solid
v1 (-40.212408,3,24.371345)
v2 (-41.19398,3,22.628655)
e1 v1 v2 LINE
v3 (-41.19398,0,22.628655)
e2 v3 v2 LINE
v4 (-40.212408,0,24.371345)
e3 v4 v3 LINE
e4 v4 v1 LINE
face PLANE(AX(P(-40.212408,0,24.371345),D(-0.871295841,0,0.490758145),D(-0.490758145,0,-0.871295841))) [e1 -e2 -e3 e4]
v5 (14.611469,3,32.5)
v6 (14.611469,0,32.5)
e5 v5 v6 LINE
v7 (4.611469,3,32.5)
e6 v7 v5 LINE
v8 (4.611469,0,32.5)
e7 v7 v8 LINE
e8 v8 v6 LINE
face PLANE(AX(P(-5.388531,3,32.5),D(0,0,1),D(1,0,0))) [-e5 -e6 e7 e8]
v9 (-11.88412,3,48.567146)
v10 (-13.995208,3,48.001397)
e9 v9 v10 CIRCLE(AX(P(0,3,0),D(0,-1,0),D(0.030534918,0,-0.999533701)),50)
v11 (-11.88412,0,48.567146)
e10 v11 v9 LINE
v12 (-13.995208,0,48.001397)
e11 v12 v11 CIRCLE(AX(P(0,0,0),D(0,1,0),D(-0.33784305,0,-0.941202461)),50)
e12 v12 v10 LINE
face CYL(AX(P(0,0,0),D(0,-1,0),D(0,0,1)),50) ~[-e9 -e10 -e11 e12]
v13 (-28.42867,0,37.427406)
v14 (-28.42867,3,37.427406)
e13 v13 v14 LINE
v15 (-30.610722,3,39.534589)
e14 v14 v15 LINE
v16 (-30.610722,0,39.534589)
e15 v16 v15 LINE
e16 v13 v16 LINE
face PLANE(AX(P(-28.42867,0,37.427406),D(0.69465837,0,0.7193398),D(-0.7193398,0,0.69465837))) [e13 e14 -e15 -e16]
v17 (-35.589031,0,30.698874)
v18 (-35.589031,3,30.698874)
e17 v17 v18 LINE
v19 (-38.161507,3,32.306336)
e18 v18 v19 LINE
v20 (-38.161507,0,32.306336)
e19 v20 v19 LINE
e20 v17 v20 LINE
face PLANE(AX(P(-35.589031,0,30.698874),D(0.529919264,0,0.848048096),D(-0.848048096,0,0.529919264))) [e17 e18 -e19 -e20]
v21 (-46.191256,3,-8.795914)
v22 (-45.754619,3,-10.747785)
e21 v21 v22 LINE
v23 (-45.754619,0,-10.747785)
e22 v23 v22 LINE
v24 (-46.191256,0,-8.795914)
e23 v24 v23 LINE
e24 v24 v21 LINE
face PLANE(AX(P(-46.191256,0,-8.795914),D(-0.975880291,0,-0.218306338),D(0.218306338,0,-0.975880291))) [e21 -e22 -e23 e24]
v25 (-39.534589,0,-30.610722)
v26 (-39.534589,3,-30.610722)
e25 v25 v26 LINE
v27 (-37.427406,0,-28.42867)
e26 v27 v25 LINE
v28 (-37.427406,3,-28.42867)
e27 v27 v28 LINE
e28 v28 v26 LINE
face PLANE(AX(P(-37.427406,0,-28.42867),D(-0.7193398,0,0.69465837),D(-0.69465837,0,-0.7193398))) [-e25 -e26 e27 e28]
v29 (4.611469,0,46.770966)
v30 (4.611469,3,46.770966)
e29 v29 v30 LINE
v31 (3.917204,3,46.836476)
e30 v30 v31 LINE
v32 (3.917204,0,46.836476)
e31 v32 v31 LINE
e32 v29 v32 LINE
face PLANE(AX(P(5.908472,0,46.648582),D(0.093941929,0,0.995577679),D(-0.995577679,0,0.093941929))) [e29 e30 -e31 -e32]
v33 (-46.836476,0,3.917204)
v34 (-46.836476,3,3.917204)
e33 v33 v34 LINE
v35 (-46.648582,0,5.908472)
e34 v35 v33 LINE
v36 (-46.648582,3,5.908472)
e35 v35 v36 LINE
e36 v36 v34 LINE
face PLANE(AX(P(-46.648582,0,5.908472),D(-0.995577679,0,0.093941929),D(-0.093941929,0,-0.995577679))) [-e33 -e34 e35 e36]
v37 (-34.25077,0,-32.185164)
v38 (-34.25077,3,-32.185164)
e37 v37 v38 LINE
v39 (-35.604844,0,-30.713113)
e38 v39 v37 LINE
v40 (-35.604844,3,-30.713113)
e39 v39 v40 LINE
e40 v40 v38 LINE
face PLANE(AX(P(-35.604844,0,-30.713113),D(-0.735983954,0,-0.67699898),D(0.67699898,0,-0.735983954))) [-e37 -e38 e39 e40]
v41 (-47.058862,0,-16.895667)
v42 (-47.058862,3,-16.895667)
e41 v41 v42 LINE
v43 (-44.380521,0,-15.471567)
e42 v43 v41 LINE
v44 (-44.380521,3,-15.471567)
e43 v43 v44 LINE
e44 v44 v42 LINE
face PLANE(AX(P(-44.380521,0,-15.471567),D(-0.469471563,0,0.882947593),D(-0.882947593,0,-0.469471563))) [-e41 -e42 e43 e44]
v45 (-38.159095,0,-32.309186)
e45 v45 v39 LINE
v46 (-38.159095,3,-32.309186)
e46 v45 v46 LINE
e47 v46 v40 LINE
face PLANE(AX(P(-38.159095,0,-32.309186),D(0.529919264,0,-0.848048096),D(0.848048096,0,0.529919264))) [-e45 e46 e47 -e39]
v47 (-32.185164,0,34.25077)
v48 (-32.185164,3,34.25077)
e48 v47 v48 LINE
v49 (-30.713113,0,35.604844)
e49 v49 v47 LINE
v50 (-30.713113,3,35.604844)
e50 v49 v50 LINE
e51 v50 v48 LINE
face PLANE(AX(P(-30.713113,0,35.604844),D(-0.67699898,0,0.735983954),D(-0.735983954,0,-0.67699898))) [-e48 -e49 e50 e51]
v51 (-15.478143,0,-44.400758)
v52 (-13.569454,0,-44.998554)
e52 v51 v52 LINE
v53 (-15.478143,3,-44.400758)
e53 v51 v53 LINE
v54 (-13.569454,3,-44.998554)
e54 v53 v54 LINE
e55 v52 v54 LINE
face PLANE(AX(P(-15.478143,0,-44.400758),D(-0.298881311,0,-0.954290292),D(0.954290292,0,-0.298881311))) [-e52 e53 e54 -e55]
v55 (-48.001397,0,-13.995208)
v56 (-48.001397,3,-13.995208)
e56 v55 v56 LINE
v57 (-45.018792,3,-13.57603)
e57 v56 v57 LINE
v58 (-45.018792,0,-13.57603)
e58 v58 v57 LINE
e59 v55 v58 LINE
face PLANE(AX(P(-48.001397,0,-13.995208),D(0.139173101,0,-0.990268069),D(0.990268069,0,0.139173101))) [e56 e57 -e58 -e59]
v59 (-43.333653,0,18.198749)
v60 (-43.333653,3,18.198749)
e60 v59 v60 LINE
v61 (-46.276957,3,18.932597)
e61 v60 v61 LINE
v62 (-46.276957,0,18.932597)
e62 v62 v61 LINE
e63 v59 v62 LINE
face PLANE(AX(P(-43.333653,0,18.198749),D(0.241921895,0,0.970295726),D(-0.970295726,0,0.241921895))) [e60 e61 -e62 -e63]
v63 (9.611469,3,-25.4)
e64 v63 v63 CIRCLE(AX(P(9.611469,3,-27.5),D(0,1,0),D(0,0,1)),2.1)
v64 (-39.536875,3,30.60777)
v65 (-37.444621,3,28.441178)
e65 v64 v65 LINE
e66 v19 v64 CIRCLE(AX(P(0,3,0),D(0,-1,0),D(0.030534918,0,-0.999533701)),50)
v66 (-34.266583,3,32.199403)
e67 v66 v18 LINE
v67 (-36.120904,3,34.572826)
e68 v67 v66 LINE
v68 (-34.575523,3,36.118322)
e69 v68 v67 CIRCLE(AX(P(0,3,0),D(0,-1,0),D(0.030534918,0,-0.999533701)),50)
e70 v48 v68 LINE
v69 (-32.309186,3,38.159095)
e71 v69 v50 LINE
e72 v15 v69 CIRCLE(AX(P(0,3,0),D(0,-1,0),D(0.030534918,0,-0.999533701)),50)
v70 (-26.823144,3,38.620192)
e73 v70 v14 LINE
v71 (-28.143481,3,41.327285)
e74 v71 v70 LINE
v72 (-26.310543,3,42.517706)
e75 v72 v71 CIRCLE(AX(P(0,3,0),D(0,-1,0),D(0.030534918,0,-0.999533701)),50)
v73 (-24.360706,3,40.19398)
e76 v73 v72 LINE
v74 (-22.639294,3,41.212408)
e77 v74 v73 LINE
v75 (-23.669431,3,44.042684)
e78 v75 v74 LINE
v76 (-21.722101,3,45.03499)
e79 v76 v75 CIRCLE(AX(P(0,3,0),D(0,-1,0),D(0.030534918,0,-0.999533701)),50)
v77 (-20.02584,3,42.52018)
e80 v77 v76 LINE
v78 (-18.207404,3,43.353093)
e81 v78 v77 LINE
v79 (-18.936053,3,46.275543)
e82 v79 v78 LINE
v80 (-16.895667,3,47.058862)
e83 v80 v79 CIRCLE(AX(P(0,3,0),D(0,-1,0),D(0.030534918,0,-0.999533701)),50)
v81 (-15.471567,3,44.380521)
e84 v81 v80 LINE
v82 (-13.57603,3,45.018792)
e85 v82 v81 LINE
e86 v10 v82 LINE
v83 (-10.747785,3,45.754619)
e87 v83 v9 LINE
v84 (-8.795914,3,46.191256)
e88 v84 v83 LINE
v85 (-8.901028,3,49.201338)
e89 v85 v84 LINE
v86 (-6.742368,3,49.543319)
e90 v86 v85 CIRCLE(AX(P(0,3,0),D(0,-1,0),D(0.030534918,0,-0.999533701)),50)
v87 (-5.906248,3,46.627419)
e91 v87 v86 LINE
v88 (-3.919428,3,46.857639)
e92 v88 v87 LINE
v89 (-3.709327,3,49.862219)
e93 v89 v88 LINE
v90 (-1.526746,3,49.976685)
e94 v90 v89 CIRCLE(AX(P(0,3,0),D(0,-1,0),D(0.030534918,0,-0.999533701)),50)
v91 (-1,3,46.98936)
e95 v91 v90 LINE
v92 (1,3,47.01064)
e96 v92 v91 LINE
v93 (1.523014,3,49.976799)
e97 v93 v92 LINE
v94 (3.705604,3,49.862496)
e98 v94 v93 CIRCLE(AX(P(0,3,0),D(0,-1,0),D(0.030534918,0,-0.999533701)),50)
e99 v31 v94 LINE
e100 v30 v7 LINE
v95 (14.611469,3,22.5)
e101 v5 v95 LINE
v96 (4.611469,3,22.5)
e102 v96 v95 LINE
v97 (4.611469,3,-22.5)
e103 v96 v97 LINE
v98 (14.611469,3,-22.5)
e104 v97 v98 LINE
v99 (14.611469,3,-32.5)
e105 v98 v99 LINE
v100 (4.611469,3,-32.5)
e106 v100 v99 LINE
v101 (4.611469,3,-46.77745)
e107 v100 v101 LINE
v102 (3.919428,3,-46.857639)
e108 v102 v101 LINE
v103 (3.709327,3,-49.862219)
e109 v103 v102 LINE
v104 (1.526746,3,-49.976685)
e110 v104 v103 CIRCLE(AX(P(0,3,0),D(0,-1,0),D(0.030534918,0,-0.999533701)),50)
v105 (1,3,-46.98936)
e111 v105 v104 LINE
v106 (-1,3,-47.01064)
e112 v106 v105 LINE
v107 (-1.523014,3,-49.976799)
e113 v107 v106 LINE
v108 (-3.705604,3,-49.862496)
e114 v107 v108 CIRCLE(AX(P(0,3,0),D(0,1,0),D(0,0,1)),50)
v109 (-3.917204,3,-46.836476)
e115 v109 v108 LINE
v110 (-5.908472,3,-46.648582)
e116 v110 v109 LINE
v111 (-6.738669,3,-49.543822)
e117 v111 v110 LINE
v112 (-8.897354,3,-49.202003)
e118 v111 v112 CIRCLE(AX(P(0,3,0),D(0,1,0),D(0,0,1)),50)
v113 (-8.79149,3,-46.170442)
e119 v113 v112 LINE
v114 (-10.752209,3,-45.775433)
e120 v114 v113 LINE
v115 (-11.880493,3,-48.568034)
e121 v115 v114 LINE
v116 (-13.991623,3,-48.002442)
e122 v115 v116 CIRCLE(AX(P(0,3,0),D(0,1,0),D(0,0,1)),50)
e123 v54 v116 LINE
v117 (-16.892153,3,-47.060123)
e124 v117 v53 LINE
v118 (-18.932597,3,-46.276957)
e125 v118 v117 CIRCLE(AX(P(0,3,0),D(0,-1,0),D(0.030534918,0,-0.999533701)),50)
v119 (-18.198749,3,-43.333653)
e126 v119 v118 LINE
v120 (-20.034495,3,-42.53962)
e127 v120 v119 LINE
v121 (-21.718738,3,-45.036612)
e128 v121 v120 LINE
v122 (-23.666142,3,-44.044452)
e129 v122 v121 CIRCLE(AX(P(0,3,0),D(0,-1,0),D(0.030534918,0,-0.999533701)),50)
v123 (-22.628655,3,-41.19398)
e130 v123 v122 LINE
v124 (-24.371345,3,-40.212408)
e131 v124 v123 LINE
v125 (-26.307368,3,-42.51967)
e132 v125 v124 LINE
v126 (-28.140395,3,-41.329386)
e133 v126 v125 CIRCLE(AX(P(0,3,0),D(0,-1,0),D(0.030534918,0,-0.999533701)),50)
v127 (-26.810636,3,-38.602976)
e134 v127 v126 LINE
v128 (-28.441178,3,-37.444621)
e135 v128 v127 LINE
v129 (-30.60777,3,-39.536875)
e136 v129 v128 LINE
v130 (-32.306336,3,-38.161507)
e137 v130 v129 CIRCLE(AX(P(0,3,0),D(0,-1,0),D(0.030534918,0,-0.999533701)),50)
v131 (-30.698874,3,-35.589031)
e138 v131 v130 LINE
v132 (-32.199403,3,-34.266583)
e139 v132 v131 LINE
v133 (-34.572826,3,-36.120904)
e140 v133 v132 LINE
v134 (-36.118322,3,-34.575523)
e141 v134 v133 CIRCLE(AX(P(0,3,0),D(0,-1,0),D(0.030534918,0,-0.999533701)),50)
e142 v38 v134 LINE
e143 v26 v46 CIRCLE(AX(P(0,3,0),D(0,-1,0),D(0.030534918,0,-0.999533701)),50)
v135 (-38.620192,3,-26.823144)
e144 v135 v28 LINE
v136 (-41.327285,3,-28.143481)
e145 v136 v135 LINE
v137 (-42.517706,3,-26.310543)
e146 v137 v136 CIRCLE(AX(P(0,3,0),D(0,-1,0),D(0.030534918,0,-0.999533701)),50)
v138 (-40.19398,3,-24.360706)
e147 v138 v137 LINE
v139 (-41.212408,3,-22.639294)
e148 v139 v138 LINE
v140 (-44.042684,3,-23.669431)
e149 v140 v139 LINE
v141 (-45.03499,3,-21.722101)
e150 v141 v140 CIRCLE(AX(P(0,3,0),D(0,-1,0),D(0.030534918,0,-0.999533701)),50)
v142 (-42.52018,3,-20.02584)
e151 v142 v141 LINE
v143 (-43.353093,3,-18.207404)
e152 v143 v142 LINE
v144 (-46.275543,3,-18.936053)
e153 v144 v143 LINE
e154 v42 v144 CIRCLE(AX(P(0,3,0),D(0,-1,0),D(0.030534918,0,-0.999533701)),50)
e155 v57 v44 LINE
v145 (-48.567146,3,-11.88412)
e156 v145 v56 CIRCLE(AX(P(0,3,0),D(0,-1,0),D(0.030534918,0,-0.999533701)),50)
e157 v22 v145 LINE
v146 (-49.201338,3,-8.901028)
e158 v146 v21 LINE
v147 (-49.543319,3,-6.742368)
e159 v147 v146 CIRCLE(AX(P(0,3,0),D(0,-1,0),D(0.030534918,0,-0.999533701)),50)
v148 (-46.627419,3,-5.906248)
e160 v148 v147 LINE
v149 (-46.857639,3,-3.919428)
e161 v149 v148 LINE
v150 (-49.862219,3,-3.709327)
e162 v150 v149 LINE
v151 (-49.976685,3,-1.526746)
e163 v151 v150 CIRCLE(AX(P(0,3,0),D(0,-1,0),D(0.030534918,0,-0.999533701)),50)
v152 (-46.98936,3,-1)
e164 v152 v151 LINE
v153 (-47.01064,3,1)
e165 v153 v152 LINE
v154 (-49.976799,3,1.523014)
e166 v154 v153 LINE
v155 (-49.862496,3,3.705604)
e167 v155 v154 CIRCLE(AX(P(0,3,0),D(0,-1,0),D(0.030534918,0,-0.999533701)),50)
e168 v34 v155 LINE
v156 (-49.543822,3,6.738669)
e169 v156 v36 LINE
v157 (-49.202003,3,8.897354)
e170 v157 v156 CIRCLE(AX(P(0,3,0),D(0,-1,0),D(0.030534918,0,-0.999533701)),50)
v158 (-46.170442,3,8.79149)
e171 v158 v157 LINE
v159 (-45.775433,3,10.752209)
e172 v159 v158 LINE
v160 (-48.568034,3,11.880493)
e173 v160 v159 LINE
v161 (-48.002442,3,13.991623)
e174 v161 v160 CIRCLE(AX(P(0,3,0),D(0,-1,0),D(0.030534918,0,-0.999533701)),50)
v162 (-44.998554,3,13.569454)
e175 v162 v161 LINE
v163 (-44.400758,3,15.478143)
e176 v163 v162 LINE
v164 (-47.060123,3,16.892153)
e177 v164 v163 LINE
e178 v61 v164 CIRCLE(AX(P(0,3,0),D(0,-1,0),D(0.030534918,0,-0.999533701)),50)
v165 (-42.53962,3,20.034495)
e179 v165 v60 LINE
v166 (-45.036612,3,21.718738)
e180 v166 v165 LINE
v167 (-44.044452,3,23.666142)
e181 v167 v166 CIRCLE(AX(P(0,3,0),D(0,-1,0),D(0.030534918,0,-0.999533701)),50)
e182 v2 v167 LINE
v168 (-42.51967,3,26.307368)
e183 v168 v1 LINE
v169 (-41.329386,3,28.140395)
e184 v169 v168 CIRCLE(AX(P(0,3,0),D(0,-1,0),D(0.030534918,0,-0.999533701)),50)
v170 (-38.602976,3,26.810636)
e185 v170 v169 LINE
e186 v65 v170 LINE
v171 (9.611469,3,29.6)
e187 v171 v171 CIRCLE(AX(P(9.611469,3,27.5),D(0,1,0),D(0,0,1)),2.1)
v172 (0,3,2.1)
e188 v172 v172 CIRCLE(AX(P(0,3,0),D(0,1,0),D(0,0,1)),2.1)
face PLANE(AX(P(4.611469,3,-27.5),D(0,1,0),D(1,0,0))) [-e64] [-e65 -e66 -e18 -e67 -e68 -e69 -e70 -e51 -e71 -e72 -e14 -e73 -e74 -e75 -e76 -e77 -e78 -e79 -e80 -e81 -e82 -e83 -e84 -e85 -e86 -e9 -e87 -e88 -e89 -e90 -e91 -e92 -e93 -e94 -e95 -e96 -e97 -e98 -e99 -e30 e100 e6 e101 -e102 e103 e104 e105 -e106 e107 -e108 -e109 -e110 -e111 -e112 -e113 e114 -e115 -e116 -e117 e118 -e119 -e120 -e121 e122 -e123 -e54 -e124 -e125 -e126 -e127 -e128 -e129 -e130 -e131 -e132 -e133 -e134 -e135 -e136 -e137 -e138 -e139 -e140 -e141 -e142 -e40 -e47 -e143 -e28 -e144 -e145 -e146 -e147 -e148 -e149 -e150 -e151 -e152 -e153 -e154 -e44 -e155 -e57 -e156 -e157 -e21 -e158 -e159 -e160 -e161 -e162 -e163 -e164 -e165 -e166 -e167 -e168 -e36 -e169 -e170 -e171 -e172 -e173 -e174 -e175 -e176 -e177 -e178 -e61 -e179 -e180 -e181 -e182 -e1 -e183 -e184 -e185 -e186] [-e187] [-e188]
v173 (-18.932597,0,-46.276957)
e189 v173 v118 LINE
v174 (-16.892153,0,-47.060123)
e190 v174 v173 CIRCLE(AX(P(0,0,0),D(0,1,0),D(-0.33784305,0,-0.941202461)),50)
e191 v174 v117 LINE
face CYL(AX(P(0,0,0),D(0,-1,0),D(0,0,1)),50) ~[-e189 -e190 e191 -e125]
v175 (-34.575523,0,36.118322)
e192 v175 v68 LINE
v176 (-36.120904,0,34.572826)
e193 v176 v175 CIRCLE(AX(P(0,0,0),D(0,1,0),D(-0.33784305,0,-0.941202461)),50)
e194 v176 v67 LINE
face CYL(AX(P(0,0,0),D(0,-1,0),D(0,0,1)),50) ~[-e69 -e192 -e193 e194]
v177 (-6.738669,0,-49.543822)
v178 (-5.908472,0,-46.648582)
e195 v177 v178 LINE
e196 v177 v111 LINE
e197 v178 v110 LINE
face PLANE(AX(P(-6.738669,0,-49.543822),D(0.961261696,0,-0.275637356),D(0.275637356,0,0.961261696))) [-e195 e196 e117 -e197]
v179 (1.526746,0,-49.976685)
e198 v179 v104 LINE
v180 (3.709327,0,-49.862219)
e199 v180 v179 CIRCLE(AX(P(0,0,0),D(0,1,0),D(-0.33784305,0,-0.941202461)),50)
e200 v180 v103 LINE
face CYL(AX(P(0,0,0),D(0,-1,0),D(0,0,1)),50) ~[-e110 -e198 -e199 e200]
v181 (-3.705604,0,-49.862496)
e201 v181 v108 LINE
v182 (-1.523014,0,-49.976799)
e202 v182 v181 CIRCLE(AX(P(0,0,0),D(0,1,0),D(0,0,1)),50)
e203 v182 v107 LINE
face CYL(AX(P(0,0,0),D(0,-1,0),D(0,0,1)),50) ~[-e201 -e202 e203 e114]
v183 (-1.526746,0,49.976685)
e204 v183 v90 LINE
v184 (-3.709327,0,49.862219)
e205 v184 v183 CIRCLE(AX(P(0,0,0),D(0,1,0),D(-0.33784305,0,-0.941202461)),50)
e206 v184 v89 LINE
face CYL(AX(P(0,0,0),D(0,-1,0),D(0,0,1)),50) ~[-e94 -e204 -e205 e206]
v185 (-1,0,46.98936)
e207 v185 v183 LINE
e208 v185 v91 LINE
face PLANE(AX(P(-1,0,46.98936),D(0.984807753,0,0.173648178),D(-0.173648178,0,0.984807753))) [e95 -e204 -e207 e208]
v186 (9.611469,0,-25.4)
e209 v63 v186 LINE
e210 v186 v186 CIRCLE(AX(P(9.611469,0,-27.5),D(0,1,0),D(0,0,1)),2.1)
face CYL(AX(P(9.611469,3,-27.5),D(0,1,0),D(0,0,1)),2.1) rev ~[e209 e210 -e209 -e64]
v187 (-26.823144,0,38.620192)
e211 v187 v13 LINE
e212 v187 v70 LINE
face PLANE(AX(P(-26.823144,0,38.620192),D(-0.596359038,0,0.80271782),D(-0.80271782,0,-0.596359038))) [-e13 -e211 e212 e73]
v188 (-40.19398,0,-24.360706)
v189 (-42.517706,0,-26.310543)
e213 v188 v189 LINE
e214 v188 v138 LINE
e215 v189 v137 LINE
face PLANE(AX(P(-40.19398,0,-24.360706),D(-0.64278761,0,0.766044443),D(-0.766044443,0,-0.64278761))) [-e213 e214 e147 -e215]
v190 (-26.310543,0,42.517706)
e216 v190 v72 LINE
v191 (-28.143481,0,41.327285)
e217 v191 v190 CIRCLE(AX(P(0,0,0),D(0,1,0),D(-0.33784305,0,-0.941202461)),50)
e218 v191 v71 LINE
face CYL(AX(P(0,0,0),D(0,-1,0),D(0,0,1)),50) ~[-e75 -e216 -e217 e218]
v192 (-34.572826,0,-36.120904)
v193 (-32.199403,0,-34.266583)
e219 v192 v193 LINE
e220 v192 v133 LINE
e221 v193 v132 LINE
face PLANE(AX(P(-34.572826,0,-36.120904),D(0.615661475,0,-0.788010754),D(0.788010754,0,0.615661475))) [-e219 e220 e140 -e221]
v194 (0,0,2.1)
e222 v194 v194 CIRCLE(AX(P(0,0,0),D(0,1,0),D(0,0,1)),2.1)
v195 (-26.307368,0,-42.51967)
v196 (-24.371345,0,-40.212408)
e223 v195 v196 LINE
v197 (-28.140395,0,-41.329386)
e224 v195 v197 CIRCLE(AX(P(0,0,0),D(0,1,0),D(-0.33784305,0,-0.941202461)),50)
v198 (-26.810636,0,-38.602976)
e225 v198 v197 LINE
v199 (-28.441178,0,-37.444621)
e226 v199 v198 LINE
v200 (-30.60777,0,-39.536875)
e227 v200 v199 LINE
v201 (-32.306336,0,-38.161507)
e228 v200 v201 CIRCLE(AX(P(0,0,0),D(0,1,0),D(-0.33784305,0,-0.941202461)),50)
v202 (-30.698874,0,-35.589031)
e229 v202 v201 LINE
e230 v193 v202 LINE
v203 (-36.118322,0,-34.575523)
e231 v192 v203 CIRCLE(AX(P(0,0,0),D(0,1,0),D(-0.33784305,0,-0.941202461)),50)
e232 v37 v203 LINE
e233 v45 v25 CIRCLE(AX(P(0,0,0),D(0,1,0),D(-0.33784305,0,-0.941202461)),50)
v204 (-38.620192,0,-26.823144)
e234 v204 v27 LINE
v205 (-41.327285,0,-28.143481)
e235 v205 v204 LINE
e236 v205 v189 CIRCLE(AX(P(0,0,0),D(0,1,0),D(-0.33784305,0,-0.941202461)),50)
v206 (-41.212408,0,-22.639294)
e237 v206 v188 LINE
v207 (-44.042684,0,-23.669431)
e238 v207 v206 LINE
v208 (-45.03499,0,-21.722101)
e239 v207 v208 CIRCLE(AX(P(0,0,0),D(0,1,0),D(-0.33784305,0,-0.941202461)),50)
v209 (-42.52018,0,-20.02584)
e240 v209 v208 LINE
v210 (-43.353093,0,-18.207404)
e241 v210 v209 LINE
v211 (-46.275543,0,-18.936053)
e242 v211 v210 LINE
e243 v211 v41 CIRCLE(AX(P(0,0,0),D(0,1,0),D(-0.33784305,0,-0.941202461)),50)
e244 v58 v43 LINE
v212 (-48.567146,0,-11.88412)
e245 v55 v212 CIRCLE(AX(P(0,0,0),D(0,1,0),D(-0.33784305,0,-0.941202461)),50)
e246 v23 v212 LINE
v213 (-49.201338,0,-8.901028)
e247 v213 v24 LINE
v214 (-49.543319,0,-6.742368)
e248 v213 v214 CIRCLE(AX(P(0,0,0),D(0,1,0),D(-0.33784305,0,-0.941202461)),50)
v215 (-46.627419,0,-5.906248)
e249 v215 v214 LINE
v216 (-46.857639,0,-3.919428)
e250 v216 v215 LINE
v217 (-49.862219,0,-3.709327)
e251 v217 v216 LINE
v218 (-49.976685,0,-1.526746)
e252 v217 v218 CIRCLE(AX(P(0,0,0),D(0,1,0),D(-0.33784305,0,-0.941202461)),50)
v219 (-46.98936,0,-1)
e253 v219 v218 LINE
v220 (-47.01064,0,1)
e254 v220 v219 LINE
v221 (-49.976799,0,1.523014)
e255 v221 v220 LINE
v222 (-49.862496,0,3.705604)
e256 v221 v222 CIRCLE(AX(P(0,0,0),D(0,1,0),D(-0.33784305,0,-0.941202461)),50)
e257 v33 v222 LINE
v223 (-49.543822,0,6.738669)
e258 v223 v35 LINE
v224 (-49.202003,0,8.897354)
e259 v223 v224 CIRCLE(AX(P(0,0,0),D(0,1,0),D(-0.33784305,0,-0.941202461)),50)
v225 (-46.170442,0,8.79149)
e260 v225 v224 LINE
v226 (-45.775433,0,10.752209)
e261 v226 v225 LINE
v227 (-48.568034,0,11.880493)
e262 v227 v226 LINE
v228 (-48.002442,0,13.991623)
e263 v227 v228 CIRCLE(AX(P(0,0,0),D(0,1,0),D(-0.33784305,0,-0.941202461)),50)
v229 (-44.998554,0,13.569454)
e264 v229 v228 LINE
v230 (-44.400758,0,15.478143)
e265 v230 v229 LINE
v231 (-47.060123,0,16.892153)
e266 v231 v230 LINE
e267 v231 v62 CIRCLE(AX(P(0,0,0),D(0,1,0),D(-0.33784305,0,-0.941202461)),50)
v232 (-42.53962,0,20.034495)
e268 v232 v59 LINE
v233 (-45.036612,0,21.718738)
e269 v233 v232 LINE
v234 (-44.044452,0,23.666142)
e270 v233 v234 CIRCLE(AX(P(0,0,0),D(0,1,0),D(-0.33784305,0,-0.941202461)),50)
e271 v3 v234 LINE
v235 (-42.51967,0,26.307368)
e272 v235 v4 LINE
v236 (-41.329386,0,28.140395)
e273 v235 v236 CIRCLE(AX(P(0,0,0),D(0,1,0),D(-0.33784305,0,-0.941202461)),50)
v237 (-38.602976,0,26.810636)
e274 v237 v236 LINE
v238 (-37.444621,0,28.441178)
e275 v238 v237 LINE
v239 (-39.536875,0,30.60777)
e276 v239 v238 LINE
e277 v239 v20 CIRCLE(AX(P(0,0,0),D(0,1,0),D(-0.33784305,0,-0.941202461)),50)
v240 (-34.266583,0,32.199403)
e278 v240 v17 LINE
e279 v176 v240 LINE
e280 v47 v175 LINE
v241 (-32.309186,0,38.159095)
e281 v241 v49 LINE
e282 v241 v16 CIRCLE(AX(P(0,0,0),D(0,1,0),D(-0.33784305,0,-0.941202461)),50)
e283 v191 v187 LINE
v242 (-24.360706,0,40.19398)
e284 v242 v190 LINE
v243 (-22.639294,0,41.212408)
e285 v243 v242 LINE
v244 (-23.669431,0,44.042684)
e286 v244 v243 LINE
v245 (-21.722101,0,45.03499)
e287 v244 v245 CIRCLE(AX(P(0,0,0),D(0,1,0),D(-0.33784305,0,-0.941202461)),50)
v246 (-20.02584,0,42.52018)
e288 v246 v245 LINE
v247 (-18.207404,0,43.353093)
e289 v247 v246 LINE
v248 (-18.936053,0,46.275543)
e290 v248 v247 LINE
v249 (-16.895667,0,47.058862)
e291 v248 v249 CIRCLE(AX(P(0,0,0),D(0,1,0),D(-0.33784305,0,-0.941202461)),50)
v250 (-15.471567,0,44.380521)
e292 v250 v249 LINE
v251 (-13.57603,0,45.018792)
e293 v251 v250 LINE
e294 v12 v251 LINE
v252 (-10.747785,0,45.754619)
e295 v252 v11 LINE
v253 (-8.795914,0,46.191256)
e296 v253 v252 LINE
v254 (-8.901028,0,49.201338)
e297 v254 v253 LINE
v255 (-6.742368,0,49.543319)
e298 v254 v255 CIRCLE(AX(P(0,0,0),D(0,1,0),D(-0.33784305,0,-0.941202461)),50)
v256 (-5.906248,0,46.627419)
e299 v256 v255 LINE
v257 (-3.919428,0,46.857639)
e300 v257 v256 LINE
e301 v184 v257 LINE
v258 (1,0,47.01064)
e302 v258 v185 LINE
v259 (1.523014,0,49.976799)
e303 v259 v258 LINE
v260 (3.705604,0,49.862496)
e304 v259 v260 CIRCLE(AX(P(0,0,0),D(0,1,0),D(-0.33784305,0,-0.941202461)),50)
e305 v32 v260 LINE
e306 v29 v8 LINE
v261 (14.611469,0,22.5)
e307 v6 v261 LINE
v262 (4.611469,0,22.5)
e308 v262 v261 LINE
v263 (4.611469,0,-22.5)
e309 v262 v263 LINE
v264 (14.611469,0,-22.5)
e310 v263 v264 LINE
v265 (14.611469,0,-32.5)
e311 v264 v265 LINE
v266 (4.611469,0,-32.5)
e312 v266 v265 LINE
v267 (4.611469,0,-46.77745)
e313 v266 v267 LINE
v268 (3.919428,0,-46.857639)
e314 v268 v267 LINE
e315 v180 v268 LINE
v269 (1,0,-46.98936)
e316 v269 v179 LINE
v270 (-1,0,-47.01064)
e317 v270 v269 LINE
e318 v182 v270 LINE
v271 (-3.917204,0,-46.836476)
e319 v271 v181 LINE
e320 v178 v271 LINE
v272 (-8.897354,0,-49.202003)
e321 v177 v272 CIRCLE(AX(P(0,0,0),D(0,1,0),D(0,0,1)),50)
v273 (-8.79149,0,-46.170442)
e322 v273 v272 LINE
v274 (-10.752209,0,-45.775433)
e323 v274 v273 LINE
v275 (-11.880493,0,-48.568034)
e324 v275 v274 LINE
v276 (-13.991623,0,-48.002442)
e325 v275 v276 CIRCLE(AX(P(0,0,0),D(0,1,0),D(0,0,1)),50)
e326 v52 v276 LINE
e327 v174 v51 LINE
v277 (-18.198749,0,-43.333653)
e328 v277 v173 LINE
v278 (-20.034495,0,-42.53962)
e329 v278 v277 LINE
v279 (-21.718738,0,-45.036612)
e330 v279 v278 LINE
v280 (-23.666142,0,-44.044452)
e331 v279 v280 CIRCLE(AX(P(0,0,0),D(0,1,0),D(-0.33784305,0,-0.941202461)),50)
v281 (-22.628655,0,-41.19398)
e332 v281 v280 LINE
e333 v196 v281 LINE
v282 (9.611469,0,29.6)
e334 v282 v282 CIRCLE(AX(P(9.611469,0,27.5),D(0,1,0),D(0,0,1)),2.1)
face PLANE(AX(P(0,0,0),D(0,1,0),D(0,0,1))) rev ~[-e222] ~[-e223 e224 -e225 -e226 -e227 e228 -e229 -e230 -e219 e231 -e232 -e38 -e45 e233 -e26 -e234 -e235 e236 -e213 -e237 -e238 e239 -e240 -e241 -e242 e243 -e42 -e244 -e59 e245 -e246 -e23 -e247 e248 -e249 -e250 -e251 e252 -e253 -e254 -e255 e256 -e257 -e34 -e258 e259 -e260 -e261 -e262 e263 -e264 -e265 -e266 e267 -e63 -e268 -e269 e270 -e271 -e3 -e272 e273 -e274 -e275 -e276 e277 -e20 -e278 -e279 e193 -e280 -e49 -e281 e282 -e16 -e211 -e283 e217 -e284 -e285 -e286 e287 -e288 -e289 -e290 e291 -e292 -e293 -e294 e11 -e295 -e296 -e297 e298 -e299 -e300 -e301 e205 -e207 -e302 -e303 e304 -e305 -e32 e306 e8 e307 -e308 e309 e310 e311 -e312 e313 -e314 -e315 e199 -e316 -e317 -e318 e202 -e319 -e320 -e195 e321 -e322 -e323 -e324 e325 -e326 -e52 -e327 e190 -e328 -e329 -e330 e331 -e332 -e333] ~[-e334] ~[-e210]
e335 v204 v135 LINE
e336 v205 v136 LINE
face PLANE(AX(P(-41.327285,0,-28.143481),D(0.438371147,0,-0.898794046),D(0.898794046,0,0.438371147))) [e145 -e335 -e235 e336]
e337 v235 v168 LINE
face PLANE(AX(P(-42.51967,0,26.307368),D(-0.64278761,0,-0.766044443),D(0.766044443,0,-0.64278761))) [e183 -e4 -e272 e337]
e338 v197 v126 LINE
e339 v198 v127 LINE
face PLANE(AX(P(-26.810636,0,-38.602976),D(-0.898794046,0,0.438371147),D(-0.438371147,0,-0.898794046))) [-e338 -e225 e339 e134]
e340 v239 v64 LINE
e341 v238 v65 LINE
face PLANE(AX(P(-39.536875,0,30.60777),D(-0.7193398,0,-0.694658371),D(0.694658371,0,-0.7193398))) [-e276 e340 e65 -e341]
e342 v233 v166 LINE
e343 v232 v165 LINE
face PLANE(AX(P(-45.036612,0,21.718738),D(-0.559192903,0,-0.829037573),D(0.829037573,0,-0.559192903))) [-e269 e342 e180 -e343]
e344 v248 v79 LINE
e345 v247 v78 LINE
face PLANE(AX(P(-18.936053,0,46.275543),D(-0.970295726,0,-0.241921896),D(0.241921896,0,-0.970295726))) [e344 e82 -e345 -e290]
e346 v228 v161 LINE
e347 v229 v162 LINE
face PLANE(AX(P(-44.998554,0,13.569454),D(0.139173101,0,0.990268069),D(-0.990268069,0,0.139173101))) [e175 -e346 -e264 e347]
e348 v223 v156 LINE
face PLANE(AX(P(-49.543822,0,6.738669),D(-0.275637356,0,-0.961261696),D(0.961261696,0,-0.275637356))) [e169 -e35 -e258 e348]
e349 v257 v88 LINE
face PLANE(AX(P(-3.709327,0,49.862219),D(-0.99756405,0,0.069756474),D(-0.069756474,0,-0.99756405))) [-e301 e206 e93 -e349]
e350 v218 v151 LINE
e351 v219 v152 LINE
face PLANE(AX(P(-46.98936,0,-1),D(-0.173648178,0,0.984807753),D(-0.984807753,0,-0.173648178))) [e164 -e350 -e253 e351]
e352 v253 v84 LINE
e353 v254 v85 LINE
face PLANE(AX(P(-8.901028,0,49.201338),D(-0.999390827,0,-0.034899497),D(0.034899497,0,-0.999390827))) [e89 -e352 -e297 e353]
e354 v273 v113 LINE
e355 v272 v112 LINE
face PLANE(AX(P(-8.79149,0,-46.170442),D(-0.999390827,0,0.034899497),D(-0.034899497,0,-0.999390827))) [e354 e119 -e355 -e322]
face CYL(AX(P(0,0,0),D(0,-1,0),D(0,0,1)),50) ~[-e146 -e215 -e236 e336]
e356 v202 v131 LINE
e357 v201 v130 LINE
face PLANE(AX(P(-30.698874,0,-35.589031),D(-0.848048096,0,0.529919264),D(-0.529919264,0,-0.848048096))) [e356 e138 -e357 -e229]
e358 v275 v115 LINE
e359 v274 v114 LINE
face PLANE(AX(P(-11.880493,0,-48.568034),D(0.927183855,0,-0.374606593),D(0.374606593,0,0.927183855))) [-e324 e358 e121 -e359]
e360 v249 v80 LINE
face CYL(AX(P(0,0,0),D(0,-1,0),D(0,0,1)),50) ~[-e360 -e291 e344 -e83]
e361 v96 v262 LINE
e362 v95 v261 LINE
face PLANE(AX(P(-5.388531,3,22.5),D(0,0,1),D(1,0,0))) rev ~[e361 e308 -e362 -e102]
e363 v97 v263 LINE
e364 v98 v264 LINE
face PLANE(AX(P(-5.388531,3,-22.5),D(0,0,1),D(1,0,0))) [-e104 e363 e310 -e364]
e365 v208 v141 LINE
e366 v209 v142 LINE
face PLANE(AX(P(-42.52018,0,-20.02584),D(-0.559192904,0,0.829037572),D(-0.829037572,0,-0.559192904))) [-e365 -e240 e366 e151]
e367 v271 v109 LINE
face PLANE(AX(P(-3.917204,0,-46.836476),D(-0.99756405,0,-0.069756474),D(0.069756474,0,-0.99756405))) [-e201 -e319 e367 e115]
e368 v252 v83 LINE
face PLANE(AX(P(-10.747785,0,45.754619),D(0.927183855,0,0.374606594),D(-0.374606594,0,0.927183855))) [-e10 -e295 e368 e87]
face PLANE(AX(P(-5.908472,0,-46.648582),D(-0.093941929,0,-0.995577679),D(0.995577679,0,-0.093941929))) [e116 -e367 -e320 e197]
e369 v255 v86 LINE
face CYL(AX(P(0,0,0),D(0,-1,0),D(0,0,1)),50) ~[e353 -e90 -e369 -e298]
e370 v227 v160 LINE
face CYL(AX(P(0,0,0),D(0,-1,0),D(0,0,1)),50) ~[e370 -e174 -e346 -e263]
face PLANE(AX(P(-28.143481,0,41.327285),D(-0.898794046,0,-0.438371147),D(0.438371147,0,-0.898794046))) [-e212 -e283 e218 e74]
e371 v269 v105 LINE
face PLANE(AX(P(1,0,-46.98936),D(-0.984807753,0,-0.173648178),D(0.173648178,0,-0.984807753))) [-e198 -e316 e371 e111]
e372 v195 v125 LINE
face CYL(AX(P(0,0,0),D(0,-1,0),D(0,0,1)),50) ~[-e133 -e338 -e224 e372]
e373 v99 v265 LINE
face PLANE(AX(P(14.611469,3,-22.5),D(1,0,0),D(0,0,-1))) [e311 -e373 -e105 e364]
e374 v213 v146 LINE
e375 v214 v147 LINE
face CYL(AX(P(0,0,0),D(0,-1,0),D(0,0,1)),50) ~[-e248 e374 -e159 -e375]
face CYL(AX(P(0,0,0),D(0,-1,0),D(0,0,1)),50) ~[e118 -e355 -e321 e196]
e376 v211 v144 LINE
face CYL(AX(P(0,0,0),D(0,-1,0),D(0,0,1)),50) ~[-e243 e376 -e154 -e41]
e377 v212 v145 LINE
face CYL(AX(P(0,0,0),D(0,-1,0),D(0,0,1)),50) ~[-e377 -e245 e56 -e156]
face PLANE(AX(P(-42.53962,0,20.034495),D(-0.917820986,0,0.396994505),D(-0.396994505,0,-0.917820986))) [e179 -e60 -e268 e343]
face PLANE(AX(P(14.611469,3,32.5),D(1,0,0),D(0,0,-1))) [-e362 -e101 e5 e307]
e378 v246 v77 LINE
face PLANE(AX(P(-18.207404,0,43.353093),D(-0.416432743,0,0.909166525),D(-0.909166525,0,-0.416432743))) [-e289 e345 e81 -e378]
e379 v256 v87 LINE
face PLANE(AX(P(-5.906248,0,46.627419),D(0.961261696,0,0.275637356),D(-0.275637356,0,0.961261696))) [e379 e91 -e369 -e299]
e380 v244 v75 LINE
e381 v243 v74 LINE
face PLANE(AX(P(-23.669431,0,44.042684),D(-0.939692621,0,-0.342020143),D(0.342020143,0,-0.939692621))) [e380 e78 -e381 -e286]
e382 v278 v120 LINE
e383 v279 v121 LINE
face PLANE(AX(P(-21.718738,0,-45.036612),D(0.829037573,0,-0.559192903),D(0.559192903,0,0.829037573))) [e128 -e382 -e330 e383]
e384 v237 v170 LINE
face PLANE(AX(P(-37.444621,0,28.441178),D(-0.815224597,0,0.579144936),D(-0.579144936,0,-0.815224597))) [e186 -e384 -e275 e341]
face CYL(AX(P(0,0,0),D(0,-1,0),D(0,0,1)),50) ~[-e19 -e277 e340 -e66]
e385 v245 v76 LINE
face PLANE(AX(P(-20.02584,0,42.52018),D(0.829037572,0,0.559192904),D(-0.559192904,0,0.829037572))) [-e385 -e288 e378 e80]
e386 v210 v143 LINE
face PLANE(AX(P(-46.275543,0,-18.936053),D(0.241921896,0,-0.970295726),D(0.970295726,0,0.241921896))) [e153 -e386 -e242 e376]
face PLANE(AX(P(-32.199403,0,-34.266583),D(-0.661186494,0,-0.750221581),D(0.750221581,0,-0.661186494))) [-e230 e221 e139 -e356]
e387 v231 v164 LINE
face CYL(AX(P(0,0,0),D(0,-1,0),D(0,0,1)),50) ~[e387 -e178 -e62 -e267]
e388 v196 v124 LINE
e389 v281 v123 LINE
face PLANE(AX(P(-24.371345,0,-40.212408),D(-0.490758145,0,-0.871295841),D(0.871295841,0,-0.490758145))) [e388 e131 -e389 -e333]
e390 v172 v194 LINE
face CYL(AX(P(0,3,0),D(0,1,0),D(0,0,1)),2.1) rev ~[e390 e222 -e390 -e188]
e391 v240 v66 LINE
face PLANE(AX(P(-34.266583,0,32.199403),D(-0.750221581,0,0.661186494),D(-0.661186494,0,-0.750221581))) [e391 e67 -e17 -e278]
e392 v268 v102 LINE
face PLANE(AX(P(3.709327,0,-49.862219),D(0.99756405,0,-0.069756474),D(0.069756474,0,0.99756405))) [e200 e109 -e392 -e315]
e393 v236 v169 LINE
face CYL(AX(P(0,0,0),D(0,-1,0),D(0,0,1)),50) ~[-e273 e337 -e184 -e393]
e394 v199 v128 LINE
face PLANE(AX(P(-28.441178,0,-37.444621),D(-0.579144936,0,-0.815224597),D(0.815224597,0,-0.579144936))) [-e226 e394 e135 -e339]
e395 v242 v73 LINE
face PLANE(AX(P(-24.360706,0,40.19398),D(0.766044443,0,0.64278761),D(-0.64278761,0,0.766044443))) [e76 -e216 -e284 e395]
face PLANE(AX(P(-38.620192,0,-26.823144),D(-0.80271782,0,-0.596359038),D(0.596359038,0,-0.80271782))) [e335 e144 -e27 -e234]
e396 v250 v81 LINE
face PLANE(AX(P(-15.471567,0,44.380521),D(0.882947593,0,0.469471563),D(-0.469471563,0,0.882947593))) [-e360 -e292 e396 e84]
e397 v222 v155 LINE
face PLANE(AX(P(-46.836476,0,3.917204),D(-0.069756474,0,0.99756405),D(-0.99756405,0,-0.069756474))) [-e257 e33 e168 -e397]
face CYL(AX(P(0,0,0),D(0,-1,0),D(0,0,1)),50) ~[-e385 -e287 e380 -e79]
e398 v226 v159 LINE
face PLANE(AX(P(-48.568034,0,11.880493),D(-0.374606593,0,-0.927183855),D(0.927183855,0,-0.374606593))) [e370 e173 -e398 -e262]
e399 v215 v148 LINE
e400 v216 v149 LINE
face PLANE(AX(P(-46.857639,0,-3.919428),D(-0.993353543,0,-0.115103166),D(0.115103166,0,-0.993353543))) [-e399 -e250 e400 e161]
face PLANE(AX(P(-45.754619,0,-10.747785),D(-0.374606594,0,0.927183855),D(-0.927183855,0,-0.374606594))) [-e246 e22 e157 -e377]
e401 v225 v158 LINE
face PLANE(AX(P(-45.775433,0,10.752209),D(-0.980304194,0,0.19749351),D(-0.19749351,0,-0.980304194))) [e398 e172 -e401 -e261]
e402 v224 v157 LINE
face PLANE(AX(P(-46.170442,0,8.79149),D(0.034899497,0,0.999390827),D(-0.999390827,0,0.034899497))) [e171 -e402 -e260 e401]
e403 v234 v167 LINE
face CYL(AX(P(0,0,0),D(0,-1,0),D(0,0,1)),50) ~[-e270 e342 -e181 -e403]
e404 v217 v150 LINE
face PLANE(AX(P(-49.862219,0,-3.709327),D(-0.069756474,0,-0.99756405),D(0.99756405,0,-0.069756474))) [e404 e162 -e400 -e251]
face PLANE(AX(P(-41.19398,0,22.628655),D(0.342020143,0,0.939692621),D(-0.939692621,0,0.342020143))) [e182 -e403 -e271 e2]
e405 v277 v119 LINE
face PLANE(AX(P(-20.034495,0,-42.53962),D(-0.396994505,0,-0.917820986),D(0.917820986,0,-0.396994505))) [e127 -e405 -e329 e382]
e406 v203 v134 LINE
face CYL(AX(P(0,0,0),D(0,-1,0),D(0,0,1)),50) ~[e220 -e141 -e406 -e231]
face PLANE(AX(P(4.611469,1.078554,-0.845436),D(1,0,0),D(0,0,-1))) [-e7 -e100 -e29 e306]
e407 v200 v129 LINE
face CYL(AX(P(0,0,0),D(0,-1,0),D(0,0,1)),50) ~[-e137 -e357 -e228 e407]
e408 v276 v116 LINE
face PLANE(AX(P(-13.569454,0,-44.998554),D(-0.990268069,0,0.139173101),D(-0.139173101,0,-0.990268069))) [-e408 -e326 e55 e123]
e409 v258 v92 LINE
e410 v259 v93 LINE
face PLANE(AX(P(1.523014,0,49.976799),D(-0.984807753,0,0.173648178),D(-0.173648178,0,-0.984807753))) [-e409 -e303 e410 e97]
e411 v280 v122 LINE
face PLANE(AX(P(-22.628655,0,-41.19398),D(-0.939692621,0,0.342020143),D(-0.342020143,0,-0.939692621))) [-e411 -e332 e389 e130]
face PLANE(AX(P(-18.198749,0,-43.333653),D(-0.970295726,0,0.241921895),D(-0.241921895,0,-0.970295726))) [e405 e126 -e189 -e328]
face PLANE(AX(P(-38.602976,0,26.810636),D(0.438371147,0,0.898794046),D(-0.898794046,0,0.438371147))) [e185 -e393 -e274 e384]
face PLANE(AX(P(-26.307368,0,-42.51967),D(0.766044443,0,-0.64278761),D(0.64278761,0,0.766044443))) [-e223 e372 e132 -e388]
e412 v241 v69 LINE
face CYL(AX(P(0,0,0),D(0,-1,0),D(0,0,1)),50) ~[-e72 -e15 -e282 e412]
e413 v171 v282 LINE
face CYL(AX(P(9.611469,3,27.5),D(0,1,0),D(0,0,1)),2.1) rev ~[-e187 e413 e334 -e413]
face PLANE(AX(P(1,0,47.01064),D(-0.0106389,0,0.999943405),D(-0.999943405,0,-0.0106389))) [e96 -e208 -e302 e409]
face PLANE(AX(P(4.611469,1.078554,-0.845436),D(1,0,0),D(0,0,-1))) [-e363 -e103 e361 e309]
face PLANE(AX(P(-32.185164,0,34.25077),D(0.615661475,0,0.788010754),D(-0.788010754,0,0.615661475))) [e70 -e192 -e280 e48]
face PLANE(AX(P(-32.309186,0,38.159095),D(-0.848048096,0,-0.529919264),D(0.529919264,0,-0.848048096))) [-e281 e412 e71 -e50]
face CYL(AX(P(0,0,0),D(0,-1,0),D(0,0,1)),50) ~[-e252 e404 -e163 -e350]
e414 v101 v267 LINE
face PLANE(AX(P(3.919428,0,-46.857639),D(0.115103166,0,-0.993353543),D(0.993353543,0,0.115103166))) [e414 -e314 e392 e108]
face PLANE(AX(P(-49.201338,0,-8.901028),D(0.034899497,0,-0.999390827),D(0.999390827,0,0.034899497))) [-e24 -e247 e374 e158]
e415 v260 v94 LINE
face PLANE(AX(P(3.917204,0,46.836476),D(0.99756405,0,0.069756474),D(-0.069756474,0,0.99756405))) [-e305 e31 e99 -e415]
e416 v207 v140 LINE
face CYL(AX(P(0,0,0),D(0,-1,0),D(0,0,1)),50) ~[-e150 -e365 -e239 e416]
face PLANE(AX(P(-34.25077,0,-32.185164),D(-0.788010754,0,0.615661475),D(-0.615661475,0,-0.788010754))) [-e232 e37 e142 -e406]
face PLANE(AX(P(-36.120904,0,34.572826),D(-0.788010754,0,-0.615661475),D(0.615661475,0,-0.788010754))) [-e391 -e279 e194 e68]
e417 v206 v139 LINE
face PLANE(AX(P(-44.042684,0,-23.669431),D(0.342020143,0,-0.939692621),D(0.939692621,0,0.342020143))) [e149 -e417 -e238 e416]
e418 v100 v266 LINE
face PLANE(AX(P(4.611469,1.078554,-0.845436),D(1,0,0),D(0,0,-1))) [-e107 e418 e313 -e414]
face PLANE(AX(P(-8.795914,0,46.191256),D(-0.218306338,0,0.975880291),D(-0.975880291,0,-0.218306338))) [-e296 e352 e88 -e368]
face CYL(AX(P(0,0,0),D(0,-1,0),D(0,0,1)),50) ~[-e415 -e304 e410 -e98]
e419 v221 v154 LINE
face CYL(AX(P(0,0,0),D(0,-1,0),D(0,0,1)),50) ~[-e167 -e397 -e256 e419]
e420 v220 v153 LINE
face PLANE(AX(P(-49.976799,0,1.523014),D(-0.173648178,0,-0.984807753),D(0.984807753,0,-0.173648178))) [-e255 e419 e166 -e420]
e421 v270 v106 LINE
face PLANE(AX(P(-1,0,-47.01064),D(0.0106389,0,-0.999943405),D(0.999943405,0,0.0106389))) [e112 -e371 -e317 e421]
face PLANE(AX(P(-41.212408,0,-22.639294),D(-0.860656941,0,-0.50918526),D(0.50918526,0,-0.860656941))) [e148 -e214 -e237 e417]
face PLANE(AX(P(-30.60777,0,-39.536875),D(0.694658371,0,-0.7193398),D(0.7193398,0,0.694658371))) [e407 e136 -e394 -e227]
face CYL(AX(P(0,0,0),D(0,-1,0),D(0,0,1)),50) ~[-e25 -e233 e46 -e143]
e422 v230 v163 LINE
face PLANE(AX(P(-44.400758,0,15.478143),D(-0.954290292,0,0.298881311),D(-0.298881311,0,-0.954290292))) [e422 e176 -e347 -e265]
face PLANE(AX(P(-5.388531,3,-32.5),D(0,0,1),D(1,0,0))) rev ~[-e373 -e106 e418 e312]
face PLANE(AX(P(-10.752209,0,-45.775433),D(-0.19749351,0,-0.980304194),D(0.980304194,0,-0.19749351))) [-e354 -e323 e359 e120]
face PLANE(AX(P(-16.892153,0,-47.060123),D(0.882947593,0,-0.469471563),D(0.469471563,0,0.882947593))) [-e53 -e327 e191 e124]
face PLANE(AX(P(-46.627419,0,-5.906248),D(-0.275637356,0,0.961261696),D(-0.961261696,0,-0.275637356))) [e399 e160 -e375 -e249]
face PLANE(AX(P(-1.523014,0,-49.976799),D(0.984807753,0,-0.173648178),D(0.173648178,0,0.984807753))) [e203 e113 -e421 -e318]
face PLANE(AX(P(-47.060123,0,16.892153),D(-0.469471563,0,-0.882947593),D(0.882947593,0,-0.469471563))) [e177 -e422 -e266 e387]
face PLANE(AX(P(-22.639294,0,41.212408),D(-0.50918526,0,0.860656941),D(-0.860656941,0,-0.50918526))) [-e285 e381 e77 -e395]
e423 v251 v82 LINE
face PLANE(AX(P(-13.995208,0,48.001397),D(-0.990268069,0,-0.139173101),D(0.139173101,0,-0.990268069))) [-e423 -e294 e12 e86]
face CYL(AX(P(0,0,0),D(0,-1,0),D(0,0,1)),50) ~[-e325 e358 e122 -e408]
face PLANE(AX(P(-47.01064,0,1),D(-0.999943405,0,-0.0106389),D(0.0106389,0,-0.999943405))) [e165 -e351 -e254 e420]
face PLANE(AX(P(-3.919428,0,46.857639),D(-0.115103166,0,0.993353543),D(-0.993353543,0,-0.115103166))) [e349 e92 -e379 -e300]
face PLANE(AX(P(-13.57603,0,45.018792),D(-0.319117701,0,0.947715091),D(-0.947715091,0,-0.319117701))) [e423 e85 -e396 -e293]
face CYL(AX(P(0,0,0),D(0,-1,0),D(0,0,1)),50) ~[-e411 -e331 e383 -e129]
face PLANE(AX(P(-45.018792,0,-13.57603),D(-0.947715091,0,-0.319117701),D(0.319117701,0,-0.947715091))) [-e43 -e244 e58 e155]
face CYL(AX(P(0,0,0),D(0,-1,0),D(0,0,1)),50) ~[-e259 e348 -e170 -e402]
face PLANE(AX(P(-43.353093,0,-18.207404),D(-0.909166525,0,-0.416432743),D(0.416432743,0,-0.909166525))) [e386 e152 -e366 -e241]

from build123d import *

# Parameters (mm, degrees)
SKETCH_1_R               = 50
EXTRUDE_1_DEPTH          = 3
CUT_EXTRUDE_START        = -3
CUT_EXTRUDE_1_DEPTH      = 3
PATTERN_CIRCULAR_1_COUNT = 60
SKETCH_3_R               = 2.1
CUT_EXTRUDE_2_DEPTH      = 3
SKETCH_7_W               = 107.754666761
SKETCH_7_H               = 25.516796979
CUT_EXTRUDE_3_DEPTH      = 63
SKETCH_8_W               = 20
SKETCH_8_H               = 10
EXTRUDE_2_DEPTH          = 3
SKETCH_9_R               = 2.1
CUT_EXTRUDE_4_DEPTH      = 19


with BuildPart() as part:
    # Эскиз1 → Бобышка-Вытянуть1 (new body)
    with BuildSketch(Plane(origin=(0, 0, 0), x_dir=(1, 0, 0), z_dir=(0, 1, 0))):
        with Locations(Location((0, 0, 0), (0, 0, 270))):
            Circle(SKETCH_1_R)
    extrude(amount=EXTRUDE_1_DEPTH)

    # Эскиз2 → Вырез-Вытянуть1 (cut)
    with BuildSketch(Plane(origin=(0, 3, 0), x_dir=(1, 0, 0), z_dir=(0, 1, 0)).offset(CUT_EXTRUDE_START)):
        with BuildLine():
            Line((-1, 47.010639502), (1, 46.989360498))
            Line((1, 46.989360498), (1.526745916, 49.976685033))
            ThreePointArc((1.526745916, 49.976685033), (0.001866861, 49.999999965), (-1.523013931, 49.976798903))
            Line((-1.523013931, 49.976798903), (-1, 47.010639502))
        make_face()
    cut_extrude_1 = extrude(amount=CUT_EXTRUDE_1_DEPTH, mode=Mode.SUBTRACT)

    # Круговой массив1: Вырез-Вытянуть1 ×60 about axis
    pattern_circular_1_axis = Axis((0, 0, 0), (0, 1, 0))
    for i in range(1, PATTERN_CIRCULAR_1_COUNT):
        add(cut_extrude_1.rotate(pattern_circular_1_axis, i * 360 / PATTERN_CIRCULAR_1_COUNT), mode=Mode.SUBTRACT)

    # Эскиз3 → Вырез-Вытянуть2 (cut)
    with BuildSketch(Plane(origin=(0, 3, 0), x_dir=(1, 0, 0), z_dir=(0, 1, 0))):
        with Locations(Location((0, 0, 0), (0, 0, 270))):
            Circle(SKETCH_3_R)
    extrude(amount=-CUT_EXTRUDE_2_DEPTH, mode=Mode.SUBTRACT)

    # Эскиз7 → Вырез-Вытянуть3 (cut)
    with BuildSketch(Plane(origin=(4.611469334, 0, 0), x_dir=(0, 0, -1), z_dir=(1, 0, 0))):
        with Locations((0.845436045, 1.078554444)):
            Rectangle(SKETCH_7_W, SKETCH_7_H)
    extrude(amount=CUT_EXTRUDE_3_DEPTH, mode=Mode.SUBTRACT)

    # Эскиз8 → Бобышка-Вытянуть2 (add)
    with BuildSketch(Plane(origin=(0, 3, 0), x_dir=(1, 0, 0), z_dir=(0, 1, 0))):
        with Locations((4.611469334, 27.5)):
            Rectangle(SKETCH_8_W, SKETCH_8_H)
        with Locations((4.611469334, -27.5)):
            Rectangle(SKETCH_8_W, SKETCH_8_H)
    extrude(amount=-EXTRUDE_2_DEPTH)

    # Эскиз9 → Вырез-Вытянуть4 (cut)
    with BuildSketch(Plane(origin=(0, 3, 0), x_dir=(1, 0, 0), z_dir=(0, 1, 0))):
        with Locations(Location((9.611469334, 27.5, 0), (0, 0, 270))):
            Circle(SKETCH_9_R)
        with Locations(Location((9.611469334, -27.5, 0), (0, 0, 270))):
            Circle(SKETCH_9_R)
    extrude(amount=-CUT_EXTRUDE_4_DEPTH, mode=Mode.SUBTRACT)


solid = part.part
